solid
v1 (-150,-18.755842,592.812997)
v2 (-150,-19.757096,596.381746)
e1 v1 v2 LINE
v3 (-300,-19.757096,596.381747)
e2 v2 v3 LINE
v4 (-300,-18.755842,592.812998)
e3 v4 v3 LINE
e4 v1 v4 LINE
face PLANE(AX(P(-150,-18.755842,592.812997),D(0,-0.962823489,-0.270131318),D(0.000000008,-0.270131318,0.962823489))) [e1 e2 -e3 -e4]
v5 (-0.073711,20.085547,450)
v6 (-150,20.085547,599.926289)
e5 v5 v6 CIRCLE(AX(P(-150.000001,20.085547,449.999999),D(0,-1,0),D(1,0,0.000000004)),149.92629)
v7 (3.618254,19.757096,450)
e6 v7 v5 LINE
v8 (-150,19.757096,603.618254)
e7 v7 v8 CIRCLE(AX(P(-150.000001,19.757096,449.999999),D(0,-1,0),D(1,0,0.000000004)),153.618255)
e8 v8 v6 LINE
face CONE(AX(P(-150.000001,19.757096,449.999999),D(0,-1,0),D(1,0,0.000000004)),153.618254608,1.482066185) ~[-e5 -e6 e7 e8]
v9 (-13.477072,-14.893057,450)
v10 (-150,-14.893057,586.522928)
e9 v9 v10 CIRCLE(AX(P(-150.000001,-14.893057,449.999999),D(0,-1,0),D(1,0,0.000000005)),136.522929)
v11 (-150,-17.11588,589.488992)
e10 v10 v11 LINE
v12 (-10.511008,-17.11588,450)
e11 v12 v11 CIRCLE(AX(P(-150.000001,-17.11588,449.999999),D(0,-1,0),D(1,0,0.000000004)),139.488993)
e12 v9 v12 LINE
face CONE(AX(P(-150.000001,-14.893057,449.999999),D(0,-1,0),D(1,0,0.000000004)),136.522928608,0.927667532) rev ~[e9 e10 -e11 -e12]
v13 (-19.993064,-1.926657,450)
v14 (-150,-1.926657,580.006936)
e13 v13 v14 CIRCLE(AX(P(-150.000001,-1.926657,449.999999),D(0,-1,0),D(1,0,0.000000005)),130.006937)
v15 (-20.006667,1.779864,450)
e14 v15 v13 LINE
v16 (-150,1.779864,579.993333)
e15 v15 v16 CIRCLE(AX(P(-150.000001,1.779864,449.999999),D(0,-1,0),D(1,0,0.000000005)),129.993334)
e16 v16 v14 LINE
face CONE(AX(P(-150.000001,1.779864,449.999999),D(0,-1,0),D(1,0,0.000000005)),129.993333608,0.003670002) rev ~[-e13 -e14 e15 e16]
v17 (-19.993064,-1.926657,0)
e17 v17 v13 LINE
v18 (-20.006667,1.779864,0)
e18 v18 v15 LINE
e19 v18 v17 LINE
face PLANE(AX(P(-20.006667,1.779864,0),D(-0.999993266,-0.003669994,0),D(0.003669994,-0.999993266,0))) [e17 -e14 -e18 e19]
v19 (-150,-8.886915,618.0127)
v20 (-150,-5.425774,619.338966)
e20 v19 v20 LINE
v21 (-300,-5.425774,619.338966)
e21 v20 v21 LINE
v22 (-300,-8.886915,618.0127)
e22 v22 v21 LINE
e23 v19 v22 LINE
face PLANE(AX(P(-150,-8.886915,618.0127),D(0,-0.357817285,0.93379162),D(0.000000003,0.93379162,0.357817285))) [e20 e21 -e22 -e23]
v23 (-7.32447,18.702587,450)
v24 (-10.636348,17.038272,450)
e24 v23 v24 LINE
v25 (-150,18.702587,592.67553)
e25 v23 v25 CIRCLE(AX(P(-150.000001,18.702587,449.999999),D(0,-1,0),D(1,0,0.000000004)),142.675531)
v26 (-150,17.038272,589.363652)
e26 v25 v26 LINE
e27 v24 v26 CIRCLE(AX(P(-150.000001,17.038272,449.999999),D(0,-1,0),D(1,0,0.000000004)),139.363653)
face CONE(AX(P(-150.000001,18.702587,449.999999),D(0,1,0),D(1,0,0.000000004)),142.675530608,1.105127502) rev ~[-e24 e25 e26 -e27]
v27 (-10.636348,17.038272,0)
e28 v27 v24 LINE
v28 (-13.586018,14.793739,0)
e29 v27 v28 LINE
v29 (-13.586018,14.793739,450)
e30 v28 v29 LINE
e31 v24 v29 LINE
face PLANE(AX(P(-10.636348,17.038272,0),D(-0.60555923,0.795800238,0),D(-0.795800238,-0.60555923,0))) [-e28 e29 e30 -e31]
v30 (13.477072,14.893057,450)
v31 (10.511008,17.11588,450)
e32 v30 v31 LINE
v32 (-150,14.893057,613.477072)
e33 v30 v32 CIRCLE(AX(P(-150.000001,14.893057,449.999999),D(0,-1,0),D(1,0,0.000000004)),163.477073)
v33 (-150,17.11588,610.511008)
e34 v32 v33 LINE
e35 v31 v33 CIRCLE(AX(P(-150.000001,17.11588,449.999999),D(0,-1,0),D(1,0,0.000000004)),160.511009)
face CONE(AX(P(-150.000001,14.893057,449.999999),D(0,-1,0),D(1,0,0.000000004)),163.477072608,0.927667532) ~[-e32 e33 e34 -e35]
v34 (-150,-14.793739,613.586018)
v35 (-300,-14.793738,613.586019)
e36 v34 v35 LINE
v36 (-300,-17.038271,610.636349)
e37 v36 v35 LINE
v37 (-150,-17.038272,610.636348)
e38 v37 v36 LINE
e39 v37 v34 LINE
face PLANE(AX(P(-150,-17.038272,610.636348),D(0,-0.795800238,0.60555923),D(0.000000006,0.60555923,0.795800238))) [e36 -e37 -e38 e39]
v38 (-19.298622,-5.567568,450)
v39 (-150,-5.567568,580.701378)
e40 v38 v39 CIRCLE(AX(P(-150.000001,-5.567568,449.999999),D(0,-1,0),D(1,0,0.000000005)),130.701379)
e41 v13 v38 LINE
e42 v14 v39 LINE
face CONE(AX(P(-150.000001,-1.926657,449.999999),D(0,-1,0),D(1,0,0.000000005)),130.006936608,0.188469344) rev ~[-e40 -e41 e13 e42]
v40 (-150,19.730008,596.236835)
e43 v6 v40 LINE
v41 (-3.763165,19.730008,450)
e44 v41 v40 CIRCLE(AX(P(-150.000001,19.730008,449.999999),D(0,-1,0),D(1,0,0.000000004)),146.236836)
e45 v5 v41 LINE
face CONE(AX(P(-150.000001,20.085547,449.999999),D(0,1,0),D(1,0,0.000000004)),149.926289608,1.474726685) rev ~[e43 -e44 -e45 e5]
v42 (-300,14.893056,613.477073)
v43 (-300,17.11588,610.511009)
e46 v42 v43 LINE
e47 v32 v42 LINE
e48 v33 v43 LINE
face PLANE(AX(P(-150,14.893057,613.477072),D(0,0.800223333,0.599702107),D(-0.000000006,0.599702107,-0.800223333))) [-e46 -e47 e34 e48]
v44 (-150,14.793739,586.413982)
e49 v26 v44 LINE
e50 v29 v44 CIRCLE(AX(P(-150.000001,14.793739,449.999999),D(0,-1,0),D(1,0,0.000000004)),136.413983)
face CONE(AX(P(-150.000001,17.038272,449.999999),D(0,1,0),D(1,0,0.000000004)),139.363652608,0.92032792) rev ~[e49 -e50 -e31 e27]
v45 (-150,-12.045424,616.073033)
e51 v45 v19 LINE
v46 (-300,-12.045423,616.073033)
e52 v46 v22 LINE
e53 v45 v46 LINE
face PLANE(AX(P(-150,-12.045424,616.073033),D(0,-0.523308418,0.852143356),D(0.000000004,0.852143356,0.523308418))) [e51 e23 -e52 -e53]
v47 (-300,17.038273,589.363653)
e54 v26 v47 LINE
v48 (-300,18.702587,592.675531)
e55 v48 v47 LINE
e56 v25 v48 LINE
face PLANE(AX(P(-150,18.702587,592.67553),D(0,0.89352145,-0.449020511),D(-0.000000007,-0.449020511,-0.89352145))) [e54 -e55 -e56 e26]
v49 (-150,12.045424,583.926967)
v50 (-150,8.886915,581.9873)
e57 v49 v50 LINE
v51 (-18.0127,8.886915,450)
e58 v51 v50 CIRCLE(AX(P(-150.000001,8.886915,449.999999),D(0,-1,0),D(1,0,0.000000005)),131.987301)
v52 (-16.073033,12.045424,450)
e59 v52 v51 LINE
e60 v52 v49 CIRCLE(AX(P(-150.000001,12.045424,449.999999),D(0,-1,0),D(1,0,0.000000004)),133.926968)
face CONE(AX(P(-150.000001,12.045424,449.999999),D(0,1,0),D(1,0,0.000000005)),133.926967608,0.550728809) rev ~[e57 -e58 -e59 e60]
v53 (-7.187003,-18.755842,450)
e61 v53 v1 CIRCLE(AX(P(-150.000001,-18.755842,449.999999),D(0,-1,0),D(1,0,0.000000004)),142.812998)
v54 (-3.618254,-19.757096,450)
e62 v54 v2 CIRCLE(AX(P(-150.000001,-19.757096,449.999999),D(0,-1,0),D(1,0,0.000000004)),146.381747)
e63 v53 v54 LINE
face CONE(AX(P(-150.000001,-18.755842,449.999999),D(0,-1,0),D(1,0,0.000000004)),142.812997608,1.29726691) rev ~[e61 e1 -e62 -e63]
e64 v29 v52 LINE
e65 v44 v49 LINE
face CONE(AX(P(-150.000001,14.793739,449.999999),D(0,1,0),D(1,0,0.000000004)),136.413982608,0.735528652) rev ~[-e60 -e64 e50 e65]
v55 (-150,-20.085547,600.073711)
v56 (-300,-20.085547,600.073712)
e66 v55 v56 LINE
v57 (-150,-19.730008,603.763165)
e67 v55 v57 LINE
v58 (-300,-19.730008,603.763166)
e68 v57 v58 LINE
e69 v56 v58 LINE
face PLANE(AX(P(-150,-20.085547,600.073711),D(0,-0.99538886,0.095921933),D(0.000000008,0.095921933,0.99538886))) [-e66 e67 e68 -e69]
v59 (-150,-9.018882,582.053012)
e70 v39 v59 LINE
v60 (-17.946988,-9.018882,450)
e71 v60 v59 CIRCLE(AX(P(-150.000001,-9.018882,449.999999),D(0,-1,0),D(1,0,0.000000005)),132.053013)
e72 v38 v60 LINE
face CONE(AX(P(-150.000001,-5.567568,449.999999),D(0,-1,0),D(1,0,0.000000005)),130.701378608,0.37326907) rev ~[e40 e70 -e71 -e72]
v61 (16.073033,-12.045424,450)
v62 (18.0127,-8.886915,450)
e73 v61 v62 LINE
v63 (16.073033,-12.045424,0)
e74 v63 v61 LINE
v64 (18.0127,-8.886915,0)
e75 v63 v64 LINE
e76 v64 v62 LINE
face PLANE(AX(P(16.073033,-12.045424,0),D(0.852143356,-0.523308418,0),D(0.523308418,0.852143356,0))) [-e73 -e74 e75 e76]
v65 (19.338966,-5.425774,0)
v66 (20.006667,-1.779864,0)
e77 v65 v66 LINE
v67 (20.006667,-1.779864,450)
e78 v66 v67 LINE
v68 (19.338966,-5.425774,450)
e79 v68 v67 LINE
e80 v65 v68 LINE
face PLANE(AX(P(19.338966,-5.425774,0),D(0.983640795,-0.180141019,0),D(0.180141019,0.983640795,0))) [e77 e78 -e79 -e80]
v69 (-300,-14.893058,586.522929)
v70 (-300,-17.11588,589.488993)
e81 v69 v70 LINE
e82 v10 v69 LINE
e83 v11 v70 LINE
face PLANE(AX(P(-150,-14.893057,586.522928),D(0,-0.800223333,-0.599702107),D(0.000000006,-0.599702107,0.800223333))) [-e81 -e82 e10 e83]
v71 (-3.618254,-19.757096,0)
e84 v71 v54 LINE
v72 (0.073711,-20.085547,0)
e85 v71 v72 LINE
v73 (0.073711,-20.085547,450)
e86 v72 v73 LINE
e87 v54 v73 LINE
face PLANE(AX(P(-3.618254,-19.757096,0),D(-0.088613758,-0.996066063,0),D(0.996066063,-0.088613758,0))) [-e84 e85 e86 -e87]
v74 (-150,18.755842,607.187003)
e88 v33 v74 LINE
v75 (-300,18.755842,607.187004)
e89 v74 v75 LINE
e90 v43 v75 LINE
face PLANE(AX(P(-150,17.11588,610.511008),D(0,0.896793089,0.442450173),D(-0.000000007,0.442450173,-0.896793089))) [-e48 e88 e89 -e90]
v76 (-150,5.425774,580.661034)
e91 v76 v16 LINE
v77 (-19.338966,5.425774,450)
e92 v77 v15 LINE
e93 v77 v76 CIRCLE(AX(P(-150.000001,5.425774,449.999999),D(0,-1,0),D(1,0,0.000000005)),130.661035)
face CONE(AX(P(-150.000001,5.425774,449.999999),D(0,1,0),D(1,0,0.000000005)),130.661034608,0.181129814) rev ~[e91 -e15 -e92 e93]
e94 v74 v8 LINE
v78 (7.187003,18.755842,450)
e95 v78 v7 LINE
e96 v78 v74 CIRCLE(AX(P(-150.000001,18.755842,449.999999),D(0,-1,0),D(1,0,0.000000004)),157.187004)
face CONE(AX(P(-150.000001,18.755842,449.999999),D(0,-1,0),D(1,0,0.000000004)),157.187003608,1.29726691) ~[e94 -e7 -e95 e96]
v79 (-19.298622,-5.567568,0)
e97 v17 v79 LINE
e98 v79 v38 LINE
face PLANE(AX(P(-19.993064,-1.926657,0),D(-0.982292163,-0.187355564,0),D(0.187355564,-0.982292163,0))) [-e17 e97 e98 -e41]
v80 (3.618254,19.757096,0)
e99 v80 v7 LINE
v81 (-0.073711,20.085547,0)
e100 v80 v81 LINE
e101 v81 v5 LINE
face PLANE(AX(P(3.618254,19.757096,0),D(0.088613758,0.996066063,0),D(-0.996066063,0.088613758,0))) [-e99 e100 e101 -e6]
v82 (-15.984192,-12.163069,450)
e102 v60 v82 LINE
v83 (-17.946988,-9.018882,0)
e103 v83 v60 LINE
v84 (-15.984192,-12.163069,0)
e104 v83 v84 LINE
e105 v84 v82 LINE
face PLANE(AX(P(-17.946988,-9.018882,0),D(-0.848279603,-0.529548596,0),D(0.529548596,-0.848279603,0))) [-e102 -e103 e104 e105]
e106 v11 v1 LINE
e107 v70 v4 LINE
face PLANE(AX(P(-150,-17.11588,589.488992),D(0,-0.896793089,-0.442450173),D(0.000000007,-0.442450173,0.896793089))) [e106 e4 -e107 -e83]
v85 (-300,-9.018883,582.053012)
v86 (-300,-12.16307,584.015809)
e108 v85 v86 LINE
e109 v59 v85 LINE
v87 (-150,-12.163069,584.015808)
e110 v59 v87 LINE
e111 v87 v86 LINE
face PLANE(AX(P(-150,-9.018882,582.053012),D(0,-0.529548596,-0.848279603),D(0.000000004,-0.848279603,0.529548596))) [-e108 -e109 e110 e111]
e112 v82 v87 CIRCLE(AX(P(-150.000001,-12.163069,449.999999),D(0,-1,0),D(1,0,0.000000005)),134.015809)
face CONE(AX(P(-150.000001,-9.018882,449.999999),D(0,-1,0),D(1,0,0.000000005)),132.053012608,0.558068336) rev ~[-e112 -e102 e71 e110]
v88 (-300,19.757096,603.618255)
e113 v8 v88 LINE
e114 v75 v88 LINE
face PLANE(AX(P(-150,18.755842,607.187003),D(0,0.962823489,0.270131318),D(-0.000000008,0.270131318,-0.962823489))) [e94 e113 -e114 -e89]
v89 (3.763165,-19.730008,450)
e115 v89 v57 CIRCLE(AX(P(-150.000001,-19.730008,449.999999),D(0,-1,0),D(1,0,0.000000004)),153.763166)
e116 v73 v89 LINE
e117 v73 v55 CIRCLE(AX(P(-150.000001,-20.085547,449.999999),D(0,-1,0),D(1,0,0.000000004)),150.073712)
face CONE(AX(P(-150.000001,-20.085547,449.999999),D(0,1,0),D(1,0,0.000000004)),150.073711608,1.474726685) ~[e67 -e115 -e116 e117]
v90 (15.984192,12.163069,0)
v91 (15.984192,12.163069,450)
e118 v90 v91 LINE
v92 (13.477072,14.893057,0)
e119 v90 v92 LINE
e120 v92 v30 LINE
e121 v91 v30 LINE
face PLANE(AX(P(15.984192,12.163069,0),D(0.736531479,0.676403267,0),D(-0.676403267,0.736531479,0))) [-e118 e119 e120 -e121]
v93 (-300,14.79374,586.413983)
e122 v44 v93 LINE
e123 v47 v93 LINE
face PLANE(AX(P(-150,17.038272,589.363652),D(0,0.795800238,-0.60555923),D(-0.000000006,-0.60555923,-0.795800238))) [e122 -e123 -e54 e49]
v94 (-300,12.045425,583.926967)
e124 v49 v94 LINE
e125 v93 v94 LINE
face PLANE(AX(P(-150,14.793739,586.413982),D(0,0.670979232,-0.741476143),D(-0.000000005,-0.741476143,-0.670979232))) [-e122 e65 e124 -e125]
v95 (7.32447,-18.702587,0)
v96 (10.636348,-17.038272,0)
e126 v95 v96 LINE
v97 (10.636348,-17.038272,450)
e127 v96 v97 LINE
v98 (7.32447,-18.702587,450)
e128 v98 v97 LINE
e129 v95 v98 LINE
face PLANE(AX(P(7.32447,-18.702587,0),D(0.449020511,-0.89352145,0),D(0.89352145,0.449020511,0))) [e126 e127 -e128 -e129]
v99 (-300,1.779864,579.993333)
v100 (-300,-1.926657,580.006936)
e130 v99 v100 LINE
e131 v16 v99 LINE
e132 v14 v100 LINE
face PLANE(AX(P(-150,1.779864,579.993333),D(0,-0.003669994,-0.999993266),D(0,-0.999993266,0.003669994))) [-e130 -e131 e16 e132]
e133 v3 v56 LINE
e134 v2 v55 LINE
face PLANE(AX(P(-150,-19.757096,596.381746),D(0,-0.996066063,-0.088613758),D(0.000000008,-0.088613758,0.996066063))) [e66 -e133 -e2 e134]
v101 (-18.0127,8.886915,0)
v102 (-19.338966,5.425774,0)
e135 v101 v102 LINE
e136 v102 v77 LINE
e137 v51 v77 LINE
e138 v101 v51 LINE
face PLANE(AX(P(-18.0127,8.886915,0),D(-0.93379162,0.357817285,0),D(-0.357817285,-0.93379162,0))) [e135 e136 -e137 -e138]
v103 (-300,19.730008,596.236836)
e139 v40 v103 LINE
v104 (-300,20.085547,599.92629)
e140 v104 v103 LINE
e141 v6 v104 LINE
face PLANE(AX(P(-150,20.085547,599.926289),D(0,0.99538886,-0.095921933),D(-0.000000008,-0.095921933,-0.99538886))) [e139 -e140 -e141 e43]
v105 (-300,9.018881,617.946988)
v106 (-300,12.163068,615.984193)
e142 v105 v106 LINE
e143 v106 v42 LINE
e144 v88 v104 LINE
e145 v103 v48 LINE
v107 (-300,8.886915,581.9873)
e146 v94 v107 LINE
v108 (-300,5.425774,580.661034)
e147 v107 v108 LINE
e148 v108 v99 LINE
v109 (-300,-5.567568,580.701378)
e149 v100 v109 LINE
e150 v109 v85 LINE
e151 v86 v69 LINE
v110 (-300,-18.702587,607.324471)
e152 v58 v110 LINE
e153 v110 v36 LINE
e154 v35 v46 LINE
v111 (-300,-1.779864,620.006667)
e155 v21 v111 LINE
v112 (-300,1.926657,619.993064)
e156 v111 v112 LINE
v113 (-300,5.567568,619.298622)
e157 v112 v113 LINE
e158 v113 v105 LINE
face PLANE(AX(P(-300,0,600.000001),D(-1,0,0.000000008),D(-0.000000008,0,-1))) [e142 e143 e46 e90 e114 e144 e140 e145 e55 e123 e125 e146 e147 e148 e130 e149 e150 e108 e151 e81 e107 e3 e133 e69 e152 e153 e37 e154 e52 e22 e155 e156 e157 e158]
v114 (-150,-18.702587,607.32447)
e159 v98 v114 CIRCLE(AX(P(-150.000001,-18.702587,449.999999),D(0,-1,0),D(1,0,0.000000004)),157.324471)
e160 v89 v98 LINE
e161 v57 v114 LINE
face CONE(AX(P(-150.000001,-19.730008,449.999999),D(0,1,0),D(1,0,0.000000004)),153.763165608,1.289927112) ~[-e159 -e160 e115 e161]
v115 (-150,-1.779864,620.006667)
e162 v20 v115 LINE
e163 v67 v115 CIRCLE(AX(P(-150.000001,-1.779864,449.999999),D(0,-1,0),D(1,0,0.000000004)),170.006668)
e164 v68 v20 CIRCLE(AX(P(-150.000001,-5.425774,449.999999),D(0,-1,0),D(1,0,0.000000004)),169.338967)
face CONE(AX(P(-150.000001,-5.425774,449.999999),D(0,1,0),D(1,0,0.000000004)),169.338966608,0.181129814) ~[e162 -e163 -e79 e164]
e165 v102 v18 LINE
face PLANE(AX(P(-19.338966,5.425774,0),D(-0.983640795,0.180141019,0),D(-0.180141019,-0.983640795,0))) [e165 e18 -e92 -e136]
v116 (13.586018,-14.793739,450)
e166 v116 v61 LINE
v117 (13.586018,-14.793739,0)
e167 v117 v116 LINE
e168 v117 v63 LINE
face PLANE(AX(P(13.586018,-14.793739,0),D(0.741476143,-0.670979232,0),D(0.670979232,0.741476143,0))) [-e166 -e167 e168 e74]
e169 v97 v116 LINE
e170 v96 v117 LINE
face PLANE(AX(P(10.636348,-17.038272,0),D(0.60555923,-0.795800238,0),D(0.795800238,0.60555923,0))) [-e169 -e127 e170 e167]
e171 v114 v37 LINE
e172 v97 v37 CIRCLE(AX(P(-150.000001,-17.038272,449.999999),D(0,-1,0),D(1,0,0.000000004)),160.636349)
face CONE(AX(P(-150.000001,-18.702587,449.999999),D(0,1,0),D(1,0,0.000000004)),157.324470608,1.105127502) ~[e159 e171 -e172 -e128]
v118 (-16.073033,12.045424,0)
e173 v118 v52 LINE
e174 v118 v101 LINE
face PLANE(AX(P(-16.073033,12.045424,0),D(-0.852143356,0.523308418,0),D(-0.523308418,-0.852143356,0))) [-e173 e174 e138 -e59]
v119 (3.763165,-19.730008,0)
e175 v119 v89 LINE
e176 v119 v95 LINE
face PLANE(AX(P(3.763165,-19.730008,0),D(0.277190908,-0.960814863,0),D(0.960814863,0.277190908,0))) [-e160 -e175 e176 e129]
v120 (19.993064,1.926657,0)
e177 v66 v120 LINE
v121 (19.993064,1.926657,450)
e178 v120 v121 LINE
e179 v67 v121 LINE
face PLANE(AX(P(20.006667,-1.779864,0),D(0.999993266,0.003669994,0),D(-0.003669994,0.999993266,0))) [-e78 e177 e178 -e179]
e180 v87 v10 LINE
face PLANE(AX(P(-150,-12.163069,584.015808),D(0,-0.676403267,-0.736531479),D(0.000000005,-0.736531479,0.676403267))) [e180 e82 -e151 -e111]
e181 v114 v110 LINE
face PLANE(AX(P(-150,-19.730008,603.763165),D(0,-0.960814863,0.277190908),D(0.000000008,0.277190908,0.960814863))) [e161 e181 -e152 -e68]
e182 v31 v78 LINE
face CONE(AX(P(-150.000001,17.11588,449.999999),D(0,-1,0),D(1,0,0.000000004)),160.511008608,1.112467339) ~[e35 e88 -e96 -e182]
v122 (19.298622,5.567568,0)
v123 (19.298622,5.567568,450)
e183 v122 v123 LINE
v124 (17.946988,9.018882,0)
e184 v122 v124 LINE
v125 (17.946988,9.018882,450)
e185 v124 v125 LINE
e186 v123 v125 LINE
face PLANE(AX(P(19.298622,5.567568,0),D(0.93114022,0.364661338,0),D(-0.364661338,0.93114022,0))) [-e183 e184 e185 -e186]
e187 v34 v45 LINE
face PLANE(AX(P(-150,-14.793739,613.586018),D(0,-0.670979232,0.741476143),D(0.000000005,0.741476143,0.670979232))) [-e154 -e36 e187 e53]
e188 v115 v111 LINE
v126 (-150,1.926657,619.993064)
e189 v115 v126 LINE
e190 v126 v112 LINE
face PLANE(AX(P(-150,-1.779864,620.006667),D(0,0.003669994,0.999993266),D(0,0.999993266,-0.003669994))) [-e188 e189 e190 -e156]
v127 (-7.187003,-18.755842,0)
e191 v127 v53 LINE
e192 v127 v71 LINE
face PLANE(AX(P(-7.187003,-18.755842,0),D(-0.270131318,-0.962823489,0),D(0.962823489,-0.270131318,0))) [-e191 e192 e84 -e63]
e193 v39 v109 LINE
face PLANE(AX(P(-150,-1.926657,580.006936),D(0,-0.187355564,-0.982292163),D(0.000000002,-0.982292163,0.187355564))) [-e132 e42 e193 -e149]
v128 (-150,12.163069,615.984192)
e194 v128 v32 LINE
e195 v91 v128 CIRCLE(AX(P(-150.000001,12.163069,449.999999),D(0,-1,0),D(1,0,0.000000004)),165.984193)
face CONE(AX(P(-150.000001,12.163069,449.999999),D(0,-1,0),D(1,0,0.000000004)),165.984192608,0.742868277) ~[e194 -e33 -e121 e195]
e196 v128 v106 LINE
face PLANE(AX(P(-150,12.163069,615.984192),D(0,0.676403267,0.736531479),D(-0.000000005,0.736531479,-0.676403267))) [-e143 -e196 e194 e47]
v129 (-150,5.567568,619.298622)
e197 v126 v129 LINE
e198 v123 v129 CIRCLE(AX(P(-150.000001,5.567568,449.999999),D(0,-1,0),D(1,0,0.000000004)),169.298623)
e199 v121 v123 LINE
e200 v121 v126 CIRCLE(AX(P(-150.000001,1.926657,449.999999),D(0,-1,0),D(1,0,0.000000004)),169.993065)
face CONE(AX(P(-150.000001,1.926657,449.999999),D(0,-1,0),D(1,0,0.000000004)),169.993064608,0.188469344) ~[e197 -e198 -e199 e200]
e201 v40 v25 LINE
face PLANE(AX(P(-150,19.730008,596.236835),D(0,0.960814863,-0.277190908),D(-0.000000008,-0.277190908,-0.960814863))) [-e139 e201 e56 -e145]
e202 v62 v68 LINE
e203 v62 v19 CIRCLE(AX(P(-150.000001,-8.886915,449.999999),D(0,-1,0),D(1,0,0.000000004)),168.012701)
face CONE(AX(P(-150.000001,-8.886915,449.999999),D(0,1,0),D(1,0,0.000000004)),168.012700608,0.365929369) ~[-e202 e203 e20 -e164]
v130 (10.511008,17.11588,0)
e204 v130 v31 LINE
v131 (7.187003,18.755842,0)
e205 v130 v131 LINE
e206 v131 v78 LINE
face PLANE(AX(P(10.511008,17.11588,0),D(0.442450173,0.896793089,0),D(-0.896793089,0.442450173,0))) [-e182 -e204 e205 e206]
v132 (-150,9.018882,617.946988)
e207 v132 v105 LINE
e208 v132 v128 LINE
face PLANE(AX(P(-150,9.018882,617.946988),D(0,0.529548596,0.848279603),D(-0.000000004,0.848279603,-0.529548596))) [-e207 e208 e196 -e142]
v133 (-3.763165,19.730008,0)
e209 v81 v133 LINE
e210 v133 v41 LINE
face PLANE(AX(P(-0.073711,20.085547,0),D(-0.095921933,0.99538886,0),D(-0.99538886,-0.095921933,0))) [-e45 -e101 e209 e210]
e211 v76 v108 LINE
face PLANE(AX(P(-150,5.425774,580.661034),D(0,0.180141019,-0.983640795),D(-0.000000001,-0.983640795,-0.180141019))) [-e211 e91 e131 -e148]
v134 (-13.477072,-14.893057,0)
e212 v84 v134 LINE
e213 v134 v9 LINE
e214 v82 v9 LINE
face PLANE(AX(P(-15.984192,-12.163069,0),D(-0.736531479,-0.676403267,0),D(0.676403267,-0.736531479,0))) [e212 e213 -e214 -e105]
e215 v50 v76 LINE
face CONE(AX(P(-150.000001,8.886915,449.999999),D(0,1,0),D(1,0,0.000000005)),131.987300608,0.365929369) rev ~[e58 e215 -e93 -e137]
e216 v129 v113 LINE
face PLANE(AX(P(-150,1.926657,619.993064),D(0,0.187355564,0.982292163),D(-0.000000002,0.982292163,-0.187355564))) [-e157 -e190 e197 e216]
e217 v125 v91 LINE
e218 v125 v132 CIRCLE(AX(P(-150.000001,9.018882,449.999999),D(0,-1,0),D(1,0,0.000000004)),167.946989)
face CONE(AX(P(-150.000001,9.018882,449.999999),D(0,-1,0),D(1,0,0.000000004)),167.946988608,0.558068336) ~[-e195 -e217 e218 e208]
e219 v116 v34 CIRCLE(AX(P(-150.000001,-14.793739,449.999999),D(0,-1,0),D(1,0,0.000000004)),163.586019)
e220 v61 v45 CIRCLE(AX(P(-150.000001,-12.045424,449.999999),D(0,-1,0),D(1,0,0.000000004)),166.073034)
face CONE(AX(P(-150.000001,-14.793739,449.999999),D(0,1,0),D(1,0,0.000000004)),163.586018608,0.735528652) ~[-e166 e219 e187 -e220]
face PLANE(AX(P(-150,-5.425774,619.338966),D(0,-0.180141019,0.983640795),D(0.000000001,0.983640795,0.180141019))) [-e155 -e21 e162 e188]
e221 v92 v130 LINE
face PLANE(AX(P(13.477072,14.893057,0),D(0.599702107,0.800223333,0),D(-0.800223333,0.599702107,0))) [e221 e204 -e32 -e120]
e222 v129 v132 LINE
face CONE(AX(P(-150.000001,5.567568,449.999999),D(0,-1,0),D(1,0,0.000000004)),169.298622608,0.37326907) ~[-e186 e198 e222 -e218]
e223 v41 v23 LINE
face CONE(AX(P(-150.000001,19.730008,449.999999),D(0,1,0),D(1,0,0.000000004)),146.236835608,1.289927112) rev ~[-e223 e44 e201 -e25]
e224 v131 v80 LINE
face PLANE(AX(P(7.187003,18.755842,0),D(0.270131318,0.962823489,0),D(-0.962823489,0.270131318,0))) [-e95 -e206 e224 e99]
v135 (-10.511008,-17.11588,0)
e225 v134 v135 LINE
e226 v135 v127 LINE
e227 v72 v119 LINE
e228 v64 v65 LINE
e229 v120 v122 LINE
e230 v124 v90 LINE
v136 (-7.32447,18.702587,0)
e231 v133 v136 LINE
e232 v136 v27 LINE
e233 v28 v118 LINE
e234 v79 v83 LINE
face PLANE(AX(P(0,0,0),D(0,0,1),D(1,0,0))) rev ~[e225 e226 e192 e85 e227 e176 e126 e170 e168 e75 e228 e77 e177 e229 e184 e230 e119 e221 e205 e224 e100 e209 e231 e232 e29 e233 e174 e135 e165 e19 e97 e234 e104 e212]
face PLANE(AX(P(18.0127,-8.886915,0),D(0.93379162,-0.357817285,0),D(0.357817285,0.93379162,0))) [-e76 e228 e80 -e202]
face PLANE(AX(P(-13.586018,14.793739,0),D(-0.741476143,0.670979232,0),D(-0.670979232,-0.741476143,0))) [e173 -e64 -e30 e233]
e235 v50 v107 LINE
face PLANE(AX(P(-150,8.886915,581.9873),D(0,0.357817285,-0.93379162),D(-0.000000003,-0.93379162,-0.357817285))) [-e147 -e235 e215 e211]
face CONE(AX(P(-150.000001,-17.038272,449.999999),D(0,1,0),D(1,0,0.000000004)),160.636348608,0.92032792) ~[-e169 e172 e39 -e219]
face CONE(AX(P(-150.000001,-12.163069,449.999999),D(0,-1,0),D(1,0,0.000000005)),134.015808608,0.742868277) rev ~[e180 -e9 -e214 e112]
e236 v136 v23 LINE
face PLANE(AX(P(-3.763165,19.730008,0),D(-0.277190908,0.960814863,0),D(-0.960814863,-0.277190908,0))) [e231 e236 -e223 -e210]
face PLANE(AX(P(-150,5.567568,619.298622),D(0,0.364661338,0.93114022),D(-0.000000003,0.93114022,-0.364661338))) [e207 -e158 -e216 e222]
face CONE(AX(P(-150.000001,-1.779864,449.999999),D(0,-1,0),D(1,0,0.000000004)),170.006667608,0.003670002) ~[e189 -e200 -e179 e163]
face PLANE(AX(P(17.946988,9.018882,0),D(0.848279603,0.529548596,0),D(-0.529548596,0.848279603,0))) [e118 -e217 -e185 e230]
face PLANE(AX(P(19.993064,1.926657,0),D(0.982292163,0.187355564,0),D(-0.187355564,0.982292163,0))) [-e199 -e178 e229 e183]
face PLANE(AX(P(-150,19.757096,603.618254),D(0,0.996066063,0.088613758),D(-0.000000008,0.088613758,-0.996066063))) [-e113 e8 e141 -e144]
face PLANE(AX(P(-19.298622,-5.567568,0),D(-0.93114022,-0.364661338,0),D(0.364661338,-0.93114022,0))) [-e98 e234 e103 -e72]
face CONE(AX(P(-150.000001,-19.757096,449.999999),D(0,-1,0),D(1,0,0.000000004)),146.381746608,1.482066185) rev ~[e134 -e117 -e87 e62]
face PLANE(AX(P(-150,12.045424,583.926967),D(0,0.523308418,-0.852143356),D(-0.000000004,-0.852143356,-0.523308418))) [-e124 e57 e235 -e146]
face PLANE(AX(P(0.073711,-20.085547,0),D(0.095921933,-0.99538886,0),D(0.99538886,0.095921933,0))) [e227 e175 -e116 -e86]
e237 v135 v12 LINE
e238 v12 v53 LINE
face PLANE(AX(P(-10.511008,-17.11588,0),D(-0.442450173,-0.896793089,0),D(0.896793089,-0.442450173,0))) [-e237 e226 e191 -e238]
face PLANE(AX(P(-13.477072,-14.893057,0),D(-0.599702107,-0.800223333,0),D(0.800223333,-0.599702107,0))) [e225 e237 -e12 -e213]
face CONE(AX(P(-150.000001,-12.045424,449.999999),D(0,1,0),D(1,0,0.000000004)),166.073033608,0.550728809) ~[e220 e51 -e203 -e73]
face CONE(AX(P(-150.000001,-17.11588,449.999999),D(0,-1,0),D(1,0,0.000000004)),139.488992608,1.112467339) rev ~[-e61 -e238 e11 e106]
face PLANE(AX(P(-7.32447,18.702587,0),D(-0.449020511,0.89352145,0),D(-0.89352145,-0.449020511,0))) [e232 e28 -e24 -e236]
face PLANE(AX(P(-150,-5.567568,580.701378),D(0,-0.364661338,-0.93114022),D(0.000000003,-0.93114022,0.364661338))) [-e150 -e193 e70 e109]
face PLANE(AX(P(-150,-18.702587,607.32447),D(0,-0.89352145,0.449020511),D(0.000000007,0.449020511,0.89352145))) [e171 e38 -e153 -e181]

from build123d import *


with BuildPart() as f2:
    # F2: sweep along a path in F1
    with BuildLine(Plane.XZ) as f2_path:
        Line((0, 0), (0, 450))
        ThreePointArc((0, 450), (-43.933983, 556.066017), (-150, 600))
        Line((-150, 600), (-300, 600))
    # F0 (on Top) → F2 (sweep)
    with BuildSketch(Plane.XY):
        Polygon((-19.993064, -1.926657), (-19.298622, -5.567568), (-17.946988, -9.018882), (-15.984192, -12.163069), (-13.477072, -14.893057), (-10.511008, -17.11588), (-7.187003, -18.755842), (-3.618254, -19.757096), (0.073711, -20.085547), (3.763165, -19.730008), (7.32447, -18.702587), (10.636348, -17.038272), (13.586018, -14.793739), (16.073033, -12.045424), (18.0127, -8.886915), (19.338966, -5.425774), (20.006667, -1.779864), (19.993064, 1.926657), (19.298622, 5.567568), (17.946988, 9.018882), (15.984192, 12.163069), (13.477072, 14.893057), (10.511008, 17.11588), (7.187003, 18.755842), (3.618254, 19.757096), (-0.073711, 20.085547), (-3.763165, 19.730008), (-7.32447, 18.702587), (-10.636348, 17.038272), (-13.586018, 14.793739), (-16.073033, 12.045424), (-18.0127, 8.886915), (-19.338966, 5.425774), (-20.006667, 1.779864), align=None)
    sweep(path=f2_path.line)


solid = f2.part
